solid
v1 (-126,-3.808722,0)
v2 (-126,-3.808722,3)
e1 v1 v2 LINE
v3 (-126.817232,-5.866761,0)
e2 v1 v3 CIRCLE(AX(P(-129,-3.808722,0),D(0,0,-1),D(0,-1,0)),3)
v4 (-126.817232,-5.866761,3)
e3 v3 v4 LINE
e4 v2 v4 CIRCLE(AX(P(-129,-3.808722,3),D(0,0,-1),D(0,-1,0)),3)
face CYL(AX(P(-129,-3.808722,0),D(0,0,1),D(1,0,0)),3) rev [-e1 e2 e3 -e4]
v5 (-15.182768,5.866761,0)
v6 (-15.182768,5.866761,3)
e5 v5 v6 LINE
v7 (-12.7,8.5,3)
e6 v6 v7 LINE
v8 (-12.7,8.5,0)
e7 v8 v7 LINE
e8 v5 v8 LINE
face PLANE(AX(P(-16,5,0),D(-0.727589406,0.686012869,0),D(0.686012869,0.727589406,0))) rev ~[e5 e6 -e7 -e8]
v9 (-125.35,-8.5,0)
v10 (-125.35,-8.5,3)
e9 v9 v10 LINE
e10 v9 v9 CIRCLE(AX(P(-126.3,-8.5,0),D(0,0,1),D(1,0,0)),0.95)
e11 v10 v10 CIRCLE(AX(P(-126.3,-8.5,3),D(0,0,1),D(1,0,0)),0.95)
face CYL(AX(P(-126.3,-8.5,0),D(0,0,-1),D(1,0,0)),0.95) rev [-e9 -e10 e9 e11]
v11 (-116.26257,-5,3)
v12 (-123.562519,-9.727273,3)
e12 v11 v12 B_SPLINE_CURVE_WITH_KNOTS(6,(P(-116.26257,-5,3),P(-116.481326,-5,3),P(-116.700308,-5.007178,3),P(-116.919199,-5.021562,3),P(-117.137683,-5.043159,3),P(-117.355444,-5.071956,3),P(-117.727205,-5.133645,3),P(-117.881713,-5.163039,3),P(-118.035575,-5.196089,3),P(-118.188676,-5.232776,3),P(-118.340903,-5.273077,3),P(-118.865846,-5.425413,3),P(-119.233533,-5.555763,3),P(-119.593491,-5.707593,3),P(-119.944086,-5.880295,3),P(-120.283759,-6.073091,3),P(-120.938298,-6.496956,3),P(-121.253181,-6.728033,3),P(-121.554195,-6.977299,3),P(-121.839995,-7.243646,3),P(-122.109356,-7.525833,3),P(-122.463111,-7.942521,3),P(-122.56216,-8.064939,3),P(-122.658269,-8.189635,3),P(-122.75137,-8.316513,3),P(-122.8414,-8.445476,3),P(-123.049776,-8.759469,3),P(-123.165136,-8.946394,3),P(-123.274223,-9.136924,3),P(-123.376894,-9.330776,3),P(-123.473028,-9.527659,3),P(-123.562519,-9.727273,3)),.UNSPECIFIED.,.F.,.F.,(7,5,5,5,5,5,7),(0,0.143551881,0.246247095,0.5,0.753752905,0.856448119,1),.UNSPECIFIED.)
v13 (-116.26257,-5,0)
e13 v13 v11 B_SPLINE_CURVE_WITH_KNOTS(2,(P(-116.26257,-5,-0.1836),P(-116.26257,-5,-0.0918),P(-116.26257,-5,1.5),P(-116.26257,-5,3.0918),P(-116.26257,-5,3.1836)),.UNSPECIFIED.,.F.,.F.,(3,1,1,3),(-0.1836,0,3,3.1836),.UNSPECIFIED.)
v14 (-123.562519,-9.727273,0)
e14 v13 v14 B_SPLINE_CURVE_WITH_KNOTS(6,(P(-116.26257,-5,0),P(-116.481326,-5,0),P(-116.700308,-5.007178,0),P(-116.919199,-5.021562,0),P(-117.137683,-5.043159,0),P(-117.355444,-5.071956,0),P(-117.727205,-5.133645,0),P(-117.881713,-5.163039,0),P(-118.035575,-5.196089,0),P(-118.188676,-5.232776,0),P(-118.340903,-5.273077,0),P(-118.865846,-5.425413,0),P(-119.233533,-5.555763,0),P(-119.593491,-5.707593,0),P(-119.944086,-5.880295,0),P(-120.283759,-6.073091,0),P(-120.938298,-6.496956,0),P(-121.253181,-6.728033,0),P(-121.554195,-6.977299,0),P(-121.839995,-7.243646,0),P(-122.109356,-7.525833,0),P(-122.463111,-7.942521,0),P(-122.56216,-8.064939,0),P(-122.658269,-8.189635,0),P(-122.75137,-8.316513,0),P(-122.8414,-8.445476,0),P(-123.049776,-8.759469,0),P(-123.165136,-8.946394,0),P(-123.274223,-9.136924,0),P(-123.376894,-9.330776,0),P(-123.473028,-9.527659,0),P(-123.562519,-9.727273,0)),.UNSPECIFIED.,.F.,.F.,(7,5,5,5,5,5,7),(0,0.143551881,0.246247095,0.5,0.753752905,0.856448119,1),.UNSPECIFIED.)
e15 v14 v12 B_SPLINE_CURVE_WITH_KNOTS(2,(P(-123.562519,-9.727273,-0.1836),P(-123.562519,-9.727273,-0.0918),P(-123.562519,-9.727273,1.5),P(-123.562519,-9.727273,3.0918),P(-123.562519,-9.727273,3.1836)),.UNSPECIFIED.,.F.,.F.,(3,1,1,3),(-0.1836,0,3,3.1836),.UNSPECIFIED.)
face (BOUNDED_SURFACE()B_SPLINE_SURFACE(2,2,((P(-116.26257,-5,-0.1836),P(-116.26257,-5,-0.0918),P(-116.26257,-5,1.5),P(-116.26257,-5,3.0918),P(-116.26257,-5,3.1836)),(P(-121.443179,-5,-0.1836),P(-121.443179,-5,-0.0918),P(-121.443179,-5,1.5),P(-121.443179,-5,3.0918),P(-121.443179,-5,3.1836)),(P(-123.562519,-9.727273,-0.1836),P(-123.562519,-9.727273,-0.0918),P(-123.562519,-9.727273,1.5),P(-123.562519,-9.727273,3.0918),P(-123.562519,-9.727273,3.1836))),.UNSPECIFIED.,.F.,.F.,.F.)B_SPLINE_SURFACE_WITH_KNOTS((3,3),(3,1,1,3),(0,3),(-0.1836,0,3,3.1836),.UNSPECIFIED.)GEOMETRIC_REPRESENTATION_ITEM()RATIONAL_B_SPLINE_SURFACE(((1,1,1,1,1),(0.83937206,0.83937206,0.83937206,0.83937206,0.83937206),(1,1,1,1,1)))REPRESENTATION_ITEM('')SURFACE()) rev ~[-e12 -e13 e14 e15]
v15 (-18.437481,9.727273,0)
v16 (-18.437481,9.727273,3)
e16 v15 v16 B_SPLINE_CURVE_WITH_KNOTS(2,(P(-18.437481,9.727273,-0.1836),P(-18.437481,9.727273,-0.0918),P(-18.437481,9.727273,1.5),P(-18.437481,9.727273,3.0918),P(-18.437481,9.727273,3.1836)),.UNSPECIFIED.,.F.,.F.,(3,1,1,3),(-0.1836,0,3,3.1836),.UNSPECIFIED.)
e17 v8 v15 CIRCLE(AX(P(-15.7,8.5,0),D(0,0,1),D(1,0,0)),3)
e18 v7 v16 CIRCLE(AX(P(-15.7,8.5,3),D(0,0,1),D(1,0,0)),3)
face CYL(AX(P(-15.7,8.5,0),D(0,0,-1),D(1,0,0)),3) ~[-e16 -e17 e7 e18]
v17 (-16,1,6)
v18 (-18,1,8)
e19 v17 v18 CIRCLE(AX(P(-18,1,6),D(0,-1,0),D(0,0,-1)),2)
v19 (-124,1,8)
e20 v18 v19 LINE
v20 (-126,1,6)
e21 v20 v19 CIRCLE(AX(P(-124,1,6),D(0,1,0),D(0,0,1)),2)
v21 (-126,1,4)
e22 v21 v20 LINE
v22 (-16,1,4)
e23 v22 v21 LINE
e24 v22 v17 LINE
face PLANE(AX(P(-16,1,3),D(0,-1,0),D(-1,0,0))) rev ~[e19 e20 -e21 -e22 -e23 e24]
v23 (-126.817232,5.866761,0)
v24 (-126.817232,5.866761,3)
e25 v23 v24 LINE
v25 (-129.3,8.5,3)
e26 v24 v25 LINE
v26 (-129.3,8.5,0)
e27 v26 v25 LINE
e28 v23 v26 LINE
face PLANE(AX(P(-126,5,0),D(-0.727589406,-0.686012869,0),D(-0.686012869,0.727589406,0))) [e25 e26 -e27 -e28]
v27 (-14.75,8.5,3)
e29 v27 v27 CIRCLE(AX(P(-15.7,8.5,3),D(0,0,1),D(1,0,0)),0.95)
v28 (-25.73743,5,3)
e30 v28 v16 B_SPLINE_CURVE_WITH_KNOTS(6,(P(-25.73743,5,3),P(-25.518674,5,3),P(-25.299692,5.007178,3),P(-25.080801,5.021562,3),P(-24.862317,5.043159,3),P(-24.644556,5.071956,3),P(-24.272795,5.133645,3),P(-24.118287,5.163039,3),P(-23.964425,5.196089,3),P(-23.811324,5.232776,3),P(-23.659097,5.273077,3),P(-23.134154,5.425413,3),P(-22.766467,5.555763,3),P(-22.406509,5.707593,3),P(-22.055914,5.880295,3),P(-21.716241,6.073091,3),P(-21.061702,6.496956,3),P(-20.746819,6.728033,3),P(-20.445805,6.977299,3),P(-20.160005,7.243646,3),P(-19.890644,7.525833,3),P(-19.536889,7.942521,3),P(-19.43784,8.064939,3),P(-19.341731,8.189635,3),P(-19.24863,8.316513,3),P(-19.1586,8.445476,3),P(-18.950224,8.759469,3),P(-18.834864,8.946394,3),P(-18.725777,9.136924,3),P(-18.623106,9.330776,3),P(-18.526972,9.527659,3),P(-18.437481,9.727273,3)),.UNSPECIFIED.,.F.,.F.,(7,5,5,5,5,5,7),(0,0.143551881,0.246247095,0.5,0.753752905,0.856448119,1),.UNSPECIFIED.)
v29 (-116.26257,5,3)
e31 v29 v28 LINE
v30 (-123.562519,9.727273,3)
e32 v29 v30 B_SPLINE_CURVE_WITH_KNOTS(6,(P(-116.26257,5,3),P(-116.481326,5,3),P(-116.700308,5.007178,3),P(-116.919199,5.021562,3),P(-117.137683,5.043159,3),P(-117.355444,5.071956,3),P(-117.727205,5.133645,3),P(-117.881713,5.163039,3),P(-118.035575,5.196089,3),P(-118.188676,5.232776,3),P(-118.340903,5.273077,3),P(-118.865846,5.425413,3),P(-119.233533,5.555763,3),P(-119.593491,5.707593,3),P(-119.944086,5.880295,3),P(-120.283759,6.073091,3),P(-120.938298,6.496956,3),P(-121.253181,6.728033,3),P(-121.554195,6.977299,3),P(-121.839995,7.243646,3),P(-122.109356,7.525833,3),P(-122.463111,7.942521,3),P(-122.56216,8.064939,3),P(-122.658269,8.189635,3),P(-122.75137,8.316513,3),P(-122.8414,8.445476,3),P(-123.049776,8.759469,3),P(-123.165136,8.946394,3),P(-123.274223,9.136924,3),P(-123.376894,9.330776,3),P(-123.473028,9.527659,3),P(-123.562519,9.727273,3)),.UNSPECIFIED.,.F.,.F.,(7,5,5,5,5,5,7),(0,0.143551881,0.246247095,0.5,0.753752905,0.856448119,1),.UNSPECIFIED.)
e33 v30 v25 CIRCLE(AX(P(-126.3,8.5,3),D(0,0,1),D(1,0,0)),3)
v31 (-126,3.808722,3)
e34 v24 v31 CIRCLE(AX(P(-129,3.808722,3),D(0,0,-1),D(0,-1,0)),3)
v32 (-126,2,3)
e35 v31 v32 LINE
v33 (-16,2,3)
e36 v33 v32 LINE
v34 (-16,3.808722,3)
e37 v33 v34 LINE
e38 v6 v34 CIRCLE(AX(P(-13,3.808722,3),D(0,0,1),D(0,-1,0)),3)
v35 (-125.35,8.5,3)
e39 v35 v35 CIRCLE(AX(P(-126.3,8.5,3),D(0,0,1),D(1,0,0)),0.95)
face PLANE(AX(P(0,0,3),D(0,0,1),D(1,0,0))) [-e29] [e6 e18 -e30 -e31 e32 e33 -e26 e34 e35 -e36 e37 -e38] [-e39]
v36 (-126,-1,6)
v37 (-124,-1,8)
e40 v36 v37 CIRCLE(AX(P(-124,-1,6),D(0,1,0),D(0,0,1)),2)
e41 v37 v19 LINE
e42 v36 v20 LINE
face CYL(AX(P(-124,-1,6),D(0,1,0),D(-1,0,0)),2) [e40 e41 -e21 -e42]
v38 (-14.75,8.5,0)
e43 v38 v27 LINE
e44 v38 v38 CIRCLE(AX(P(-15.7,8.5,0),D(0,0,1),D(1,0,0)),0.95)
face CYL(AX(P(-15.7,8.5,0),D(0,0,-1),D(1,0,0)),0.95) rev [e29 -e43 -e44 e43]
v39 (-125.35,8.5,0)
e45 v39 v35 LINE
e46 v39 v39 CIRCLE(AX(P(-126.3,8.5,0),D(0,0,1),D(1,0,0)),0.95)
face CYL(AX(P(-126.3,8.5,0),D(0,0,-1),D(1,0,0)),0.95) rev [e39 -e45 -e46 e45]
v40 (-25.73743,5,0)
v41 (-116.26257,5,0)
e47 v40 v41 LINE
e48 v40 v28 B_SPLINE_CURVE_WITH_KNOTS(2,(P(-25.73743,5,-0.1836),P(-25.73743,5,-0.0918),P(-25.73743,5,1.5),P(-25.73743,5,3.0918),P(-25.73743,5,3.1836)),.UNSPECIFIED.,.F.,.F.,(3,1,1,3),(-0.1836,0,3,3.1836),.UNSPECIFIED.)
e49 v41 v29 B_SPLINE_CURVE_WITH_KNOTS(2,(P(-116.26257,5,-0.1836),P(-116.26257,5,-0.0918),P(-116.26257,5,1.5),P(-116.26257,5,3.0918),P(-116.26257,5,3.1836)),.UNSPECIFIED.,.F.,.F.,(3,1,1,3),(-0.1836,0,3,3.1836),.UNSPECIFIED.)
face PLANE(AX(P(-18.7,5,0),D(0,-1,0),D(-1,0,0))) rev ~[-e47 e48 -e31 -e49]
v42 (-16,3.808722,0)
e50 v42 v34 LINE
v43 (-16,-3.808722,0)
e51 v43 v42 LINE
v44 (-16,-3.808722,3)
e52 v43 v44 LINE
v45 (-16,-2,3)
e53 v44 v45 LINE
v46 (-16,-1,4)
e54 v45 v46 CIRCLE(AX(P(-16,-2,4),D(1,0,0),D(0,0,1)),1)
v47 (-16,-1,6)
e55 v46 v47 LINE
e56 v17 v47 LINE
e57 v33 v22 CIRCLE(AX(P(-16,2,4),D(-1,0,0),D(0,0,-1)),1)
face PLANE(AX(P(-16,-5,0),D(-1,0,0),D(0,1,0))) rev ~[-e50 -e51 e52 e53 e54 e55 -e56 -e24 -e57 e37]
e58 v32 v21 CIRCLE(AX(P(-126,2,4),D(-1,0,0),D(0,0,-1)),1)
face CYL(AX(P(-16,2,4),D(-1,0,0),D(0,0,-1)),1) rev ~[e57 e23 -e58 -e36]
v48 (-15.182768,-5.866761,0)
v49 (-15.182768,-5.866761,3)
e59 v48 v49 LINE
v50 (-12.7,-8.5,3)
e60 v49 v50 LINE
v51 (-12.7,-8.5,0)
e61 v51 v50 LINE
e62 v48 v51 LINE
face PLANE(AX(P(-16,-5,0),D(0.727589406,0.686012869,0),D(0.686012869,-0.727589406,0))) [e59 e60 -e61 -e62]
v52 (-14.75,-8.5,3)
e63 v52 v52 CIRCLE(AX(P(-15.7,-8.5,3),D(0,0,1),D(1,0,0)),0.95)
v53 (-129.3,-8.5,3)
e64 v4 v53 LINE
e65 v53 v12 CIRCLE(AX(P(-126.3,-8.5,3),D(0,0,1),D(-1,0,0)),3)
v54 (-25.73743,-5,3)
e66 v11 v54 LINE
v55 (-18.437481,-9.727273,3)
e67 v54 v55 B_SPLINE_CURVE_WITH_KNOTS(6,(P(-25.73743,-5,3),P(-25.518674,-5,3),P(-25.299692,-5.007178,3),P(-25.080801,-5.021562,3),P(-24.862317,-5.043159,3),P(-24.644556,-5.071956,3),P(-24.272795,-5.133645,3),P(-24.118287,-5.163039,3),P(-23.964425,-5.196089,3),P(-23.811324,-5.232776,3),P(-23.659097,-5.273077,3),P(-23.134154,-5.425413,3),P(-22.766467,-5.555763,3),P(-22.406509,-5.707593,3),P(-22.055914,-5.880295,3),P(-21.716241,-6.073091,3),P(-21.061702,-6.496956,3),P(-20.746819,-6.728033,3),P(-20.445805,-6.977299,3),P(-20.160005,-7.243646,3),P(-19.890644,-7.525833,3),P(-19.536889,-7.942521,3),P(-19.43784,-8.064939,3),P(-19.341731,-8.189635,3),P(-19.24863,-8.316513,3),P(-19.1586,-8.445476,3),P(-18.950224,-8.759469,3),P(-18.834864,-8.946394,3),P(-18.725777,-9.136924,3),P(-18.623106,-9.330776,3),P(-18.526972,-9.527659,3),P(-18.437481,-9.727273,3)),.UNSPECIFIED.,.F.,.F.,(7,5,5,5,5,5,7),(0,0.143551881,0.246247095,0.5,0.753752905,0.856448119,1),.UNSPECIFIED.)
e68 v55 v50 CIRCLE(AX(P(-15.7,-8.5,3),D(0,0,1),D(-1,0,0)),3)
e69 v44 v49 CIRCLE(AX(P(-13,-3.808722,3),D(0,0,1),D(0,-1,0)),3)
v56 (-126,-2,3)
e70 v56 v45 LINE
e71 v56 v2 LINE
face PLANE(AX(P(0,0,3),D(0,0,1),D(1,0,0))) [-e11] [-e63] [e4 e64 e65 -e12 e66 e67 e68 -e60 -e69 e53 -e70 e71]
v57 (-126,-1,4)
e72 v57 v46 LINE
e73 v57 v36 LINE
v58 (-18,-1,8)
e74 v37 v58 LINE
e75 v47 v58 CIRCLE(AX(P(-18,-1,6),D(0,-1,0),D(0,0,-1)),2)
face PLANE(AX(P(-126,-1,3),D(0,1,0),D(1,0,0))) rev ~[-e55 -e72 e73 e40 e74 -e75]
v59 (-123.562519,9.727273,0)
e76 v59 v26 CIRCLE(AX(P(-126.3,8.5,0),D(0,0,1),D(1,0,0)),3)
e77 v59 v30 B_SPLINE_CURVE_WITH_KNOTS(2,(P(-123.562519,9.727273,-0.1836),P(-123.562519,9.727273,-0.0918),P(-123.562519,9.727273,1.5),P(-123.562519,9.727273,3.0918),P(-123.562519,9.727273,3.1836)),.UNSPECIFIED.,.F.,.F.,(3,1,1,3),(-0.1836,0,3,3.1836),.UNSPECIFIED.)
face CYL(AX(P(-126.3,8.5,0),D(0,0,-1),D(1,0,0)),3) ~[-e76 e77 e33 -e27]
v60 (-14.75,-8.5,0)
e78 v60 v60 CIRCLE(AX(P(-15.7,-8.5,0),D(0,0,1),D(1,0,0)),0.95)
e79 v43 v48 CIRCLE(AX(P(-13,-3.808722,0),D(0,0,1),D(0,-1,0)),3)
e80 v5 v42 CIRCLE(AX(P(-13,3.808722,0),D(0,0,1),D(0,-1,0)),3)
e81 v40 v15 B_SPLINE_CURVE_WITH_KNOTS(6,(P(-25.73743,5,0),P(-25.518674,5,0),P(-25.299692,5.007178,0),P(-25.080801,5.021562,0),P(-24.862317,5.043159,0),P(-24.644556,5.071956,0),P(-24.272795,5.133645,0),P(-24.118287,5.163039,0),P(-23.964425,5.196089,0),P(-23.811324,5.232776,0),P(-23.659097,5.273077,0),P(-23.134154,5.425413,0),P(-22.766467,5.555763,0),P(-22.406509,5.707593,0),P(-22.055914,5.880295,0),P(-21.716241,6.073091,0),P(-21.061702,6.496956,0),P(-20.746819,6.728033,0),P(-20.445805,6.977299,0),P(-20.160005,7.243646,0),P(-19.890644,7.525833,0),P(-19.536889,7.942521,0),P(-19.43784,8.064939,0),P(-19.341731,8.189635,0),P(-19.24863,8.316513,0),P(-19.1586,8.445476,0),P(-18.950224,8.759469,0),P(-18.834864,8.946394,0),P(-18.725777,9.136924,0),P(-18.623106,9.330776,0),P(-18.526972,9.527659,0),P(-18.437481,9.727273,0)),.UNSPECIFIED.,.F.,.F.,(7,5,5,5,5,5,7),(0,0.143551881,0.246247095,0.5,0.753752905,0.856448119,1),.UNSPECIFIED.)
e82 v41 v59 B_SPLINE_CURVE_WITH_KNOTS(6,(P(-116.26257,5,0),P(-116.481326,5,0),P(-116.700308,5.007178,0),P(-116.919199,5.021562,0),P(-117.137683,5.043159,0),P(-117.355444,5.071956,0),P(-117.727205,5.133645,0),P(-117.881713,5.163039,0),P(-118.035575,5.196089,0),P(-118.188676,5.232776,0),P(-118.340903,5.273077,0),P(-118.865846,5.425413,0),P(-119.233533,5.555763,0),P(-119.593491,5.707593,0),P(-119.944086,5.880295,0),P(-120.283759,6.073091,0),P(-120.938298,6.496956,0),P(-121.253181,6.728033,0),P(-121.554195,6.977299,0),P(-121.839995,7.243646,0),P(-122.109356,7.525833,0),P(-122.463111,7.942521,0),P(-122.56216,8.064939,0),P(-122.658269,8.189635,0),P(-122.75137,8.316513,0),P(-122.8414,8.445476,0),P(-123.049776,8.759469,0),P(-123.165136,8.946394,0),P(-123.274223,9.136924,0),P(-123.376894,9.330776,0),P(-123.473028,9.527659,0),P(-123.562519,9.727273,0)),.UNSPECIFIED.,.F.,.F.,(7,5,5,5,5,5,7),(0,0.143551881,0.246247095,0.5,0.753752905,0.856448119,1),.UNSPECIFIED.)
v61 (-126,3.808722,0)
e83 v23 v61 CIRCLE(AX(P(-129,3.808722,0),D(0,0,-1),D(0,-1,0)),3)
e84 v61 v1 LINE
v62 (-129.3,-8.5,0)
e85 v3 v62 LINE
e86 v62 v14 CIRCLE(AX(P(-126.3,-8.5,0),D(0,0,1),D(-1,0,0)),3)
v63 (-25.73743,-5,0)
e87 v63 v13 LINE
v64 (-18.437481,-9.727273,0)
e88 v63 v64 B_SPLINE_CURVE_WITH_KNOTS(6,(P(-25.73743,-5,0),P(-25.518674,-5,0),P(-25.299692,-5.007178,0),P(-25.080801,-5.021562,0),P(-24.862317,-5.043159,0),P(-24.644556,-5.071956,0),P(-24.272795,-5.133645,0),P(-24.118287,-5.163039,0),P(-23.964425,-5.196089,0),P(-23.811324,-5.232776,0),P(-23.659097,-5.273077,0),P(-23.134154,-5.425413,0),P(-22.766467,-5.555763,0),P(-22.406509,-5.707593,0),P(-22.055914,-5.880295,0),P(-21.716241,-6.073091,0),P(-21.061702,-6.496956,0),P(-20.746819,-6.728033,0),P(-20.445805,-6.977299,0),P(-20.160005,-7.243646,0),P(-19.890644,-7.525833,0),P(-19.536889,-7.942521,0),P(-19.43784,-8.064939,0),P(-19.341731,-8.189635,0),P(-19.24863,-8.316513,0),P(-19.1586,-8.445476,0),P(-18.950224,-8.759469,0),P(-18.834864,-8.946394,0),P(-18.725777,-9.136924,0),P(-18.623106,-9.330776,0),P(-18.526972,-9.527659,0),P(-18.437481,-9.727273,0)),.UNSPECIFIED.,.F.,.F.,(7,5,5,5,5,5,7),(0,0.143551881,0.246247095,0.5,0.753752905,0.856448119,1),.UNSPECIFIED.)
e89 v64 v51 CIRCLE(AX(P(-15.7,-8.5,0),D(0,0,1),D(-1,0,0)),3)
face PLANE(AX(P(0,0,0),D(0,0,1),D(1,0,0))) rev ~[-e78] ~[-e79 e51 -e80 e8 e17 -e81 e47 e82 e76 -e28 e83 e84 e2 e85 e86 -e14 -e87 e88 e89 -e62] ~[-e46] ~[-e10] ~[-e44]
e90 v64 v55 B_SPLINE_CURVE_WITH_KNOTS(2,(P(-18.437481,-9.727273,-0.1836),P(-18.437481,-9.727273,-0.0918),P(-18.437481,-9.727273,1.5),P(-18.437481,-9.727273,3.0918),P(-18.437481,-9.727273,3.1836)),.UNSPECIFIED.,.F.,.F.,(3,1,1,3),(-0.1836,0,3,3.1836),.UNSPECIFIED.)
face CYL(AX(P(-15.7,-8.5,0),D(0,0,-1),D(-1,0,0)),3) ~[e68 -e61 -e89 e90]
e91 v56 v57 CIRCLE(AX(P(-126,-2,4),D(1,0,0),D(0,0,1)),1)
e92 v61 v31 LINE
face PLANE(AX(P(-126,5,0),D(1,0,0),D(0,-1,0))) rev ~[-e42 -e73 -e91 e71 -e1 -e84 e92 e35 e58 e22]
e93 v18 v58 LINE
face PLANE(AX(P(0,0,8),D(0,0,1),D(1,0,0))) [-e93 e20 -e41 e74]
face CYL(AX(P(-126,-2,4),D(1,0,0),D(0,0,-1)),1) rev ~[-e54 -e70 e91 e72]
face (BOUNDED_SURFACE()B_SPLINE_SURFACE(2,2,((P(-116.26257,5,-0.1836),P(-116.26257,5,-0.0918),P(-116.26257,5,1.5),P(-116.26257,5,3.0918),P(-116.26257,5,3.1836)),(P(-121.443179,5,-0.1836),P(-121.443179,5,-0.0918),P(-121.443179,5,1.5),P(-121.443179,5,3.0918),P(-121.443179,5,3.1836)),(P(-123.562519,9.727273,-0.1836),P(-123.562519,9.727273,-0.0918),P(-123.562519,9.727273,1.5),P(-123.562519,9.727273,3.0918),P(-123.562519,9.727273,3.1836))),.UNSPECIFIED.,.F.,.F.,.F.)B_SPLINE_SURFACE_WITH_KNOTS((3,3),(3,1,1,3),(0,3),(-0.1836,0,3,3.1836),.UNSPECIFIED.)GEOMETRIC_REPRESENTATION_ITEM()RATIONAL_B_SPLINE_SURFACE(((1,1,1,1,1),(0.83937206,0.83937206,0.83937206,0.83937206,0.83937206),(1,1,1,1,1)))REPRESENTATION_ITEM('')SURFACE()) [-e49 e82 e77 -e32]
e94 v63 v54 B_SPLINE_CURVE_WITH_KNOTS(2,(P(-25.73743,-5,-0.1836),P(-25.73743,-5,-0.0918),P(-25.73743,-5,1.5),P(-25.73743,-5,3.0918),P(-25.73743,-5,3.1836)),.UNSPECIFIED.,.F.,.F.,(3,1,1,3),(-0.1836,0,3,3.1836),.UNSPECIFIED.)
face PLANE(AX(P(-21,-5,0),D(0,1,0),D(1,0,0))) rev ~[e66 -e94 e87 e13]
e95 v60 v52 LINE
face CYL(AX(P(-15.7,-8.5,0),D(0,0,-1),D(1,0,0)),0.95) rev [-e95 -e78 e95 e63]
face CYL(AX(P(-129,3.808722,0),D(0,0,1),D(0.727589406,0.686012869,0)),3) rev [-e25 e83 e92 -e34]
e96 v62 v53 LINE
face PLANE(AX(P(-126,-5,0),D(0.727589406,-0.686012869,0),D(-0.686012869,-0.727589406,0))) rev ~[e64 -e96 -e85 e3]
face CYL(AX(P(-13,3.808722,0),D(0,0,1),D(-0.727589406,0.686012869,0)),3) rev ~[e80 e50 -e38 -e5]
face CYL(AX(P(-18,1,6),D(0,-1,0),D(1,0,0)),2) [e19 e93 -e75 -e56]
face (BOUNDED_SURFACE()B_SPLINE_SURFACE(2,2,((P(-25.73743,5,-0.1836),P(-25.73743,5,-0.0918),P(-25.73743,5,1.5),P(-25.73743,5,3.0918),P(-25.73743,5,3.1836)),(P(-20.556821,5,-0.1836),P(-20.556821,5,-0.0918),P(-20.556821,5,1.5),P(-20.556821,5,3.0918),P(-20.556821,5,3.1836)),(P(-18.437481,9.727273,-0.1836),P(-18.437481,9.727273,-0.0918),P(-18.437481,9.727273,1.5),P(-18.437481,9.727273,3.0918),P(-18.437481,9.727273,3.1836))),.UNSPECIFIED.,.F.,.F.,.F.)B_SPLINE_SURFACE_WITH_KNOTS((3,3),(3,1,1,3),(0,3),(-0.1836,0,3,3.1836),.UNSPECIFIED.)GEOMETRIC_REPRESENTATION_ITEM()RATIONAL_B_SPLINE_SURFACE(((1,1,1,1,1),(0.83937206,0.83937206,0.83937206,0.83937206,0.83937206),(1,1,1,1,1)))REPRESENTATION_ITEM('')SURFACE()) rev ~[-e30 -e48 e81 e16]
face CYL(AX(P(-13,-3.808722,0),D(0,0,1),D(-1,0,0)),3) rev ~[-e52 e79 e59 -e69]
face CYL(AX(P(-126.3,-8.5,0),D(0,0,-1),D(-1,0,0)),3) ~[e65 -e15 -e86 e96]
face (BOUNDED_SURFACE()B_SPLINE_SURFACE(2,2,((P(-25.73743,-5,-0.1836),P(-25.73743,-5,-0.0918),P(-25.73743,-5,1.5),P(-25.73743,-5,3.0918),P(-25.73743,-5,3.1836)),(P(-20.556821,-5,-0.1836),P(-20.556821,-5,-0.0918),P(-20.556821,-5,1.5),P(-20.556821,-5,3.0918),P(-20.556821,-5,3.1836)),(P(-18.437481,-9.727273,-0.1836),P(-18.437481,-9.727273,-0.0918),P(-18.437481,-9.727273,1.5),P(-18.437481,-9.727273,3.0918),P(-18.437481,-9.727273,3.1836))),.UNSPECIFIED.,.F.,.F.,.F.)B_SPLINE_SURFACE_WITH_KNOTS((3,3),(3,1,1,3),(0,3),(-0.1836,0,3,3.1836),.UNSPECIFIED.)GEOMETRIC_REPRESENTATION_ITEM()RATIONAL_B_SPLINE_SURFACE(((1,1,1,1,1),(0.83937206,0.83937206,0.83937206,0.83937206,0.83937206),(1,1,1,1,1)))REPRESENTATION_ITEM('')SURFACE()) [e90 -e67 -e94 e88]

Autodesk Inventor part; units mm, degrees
ref_plane "YZ Plane" through (0, 0, 0) normal (1, 0, 0) x (0, 1, 0)
ref_plane "XZ Plane" through (0, 0, 0) normal (0, 1, 0) x (-1, 0, 0)
ref_plane "XY Plane" through (0, 0, 0) normal (0, 0, 1) x (1, 0, 0)
sketch "Sketch1" plane through (0, 0, 0) normal (0, 0, 1) x (1, 0, 0)
  circle A0 centre (-126.3, 8.5) radius 0.95 projected
  circle A1 centre (-126.3, -8.5) radius 0.95 projected
  circle A2 centre (-15.7, -8.5) radius 0.95 projected
  circle A3 centre (-15.7, 8.5) radius 0.95 projected
  line L0 (-21, 18) -> (-21, -18) projected
  line L1 (-121, -18) -> (-121, 18) projected
  line L2 (-121, 0) -> (-21, 0)
  line L3 (-126, 5) -> (-126, -5)
  line L4 (-126, -5) -> (-16, -5)
  line L5 (-16, -5) -> (-16, 5)
  line L6 (-16, 5) -> (-126, 5)
  line L7 (-126, 5) -> (-16, -5) construction
  line L8 (-126, -5) -> (-16, 5) construction
  line L9 (-126.3, 8.5) -> (-126.3, -8.5) construction
  line L10 (-129.3, 8.5) -> (-129.3, -8.5)
  line L11 (-123.3, -8.5) -> (-123.3, 8.5)
  arc A4 (-123.3, 8.5) -> (-129.3, 8.5) centre (-126.3, 8.5) ccw
  arc A5 (-129.3, -8.5) -> (-123.3, -8.5) centre (-126.3, -8.5) ccw
  line L12 (-15.7, 8.5) -> (-15.7, -8.5) construction
  line L13 (-18.7, 8.5) -> (-18.7, -8.5)
  line L14 (-12.7, -8.5) -> (-12.7, 8.5)
  arc A6 (-12.7, 8.5) -> (-18.7, 8.5) centre (-15.7, 8.5) ccw
  arc A7 (-18.7, -8.5) -> (-12.7, -8.5) centre (-15.7, -8.5) ccw
  line L15 (-16, 5) -> (-12.7, 8.5)
  line L16 (-16, -5) -> (-12.7, -8.5)
  line L17 (-126, 5) -> (-129.3, 8.5)
  line L18 (-126, -5) -> (-129.3, -8.5)
  point P0 (0, 0)
  point P1 (-71, 0)
  point P2 (-126.3, 0)
  point P3 (-15.7, 0)
  point P4 (-123.3, 5)
  point P5 (-123.3, -5)
  point P6 (-18.7, -5)
  point P7 (-18.7, 5)
  dimension "d0" = 10
  dimension "d1" = 110
  dimension "d2" = 6
  dimension "d3" = 6
extrude "Extrusion1" add sketch "Sketch1" along normal blind 3 contours L6 L13 L4 L0 | L0 L2 L1 L6 | L0 L4 L1 L2 | L13 A6 L15 L6 | L6 L5 L4 L13 | L1 L4 L11 L6 | L4 L16 A7 L13 | L11 L4 L3 L6 | L6 L17 A4 L11 | L11 A5 L18 L4
fillet "Fillet1" radius 8 4 edges at (-123.3, 5, 1.5) (-123.3, -5, 1.5) (-18.7, -5, 1.5) (-18.7, 5, 1.5)
fillet "Fillet2" radius 3 4 edges at (-126, 5, 1.5) (-126, -5, 1.5) (-16, 5, 1.5) (-16, -5, 1.5)
sketch "Sketch2" plane through (0, 0, 3) normal (0, 0, 1) x (1, 0, 0)
  arc A0 (-18.4375, -9.7273) -> (-12.7, -8.5) centre (-15.7, -8.5) ccw projected
  line L0 (-12.7, -8.5) -> (-15.1828, -5.8668) projected
  arc A1 (-16, -3.8087) -> (-15.1828, -5.8668) centre (-13, -3.8087) ccw projected
  line L1 (-16, -3.8087) -> (-16, 3.8087) projected
  arc A2 (-15.1828, 5.8668) -> (-16, 3.8087) centre (-13, 3.8087) ccw projected
  line L2 (-15.1828, 5.8668) -> (-12.7, 8.5) projected
  arc A3 (-12.7, 8.5) -> (-18.4375, 9.7273) centre (-15.7, 8.5) ccw projected
  arc A4 (-25.7374, 5) -> (-18.4375, 9.7273) centre (-25.7374, 13) ccw projected
  line L3 (-25.7374, 5) -> (-116.2626, 5) projected
  arc A5 (-123.5625, 9.7273) -> (-116.2626, 5) centre (-116.2626, 13) ccw projected
  arc A6 (-123.5625, 9.7273) -> (-129.3, 8.5) centre (-126.3, 8.5) ccw projected
  line L4 (-129.3, 8.5) -> (-126.8172, 5.8668) projected
  arc A7 (-126, 3.8087) -> (-126.8172, 5.8668) centre (-129, 3.8087) ccw projected
  line L5 (-126, 3.8087) -> (-126, -3.8087) projected
  arc A8 (-126.8172, -5.8668) -> (-126, -3.8087) centre (-129, -3.8087) ccw projected
  line L6 (-126.8172, -5.8668) -> (-129.3, -8.5) projected
  arc A9 (-129.3, -8.5) -> (-123.5625, -9.7273) centre (-126.3, -8.5) ccw projected
  arc A10 (-116.2626, -5) -> (-123.5625, -9.7273) centre (-116.2626, -13) ccw projected
  line L7 (-116.2626, -5) -> (-25.7374, -5) projected
  arc A11 (-18.4375, -9.7273) -> (-25.7374, -5) centre (-25.7374, -13) ccw projected
  circle A12 centre (-15.7, 8.5) radius 0.95 projected
  circle A13 centre (-15.7, -8.5) radius 0.95 projected
  circle A14 centre (-126.3, -8.5) radius 0.95 projected
  circle A15 centre (-126.3, 8.5) radius 0.95 projected
  line L8 (-126, 3.8087) -> (-126, -3.8087) projected
  line L9 (-126, 0) -> (-16, 0)
  line L10 (-126, 1) -> (-126, -1)
  line L11 (-126, -1) -> (-16, -1)
  line L12 (-16, -1) -> (-16, 1)
  line L13 (-16, 1) -> (-126, 1)
  line L14 (-126, 1) -> (-16, -1) construction
  line L15 (-126, -1) -> (-16, 1) construction
  line L16 (-16, -3.8087) -> (-16, 3.8087) projected
  point P0 (0, 0)
  point P1 (-71, 0)
  dimension "d8" = 2
extrude "Extrusion2" add sketch "Sketch2" along normal blind 5 contours L11 L5 L9 L1 | L9 L5 L13 L1
fillet "Fillet3" radius 1 2 edges at (-71, -1, 3) (-71, 1, 3)
fillet "Fillet4" radius 2 2 edges at (-126, 0, 8) (-16, 0, 8)
properties part number "test_bridge_1"
